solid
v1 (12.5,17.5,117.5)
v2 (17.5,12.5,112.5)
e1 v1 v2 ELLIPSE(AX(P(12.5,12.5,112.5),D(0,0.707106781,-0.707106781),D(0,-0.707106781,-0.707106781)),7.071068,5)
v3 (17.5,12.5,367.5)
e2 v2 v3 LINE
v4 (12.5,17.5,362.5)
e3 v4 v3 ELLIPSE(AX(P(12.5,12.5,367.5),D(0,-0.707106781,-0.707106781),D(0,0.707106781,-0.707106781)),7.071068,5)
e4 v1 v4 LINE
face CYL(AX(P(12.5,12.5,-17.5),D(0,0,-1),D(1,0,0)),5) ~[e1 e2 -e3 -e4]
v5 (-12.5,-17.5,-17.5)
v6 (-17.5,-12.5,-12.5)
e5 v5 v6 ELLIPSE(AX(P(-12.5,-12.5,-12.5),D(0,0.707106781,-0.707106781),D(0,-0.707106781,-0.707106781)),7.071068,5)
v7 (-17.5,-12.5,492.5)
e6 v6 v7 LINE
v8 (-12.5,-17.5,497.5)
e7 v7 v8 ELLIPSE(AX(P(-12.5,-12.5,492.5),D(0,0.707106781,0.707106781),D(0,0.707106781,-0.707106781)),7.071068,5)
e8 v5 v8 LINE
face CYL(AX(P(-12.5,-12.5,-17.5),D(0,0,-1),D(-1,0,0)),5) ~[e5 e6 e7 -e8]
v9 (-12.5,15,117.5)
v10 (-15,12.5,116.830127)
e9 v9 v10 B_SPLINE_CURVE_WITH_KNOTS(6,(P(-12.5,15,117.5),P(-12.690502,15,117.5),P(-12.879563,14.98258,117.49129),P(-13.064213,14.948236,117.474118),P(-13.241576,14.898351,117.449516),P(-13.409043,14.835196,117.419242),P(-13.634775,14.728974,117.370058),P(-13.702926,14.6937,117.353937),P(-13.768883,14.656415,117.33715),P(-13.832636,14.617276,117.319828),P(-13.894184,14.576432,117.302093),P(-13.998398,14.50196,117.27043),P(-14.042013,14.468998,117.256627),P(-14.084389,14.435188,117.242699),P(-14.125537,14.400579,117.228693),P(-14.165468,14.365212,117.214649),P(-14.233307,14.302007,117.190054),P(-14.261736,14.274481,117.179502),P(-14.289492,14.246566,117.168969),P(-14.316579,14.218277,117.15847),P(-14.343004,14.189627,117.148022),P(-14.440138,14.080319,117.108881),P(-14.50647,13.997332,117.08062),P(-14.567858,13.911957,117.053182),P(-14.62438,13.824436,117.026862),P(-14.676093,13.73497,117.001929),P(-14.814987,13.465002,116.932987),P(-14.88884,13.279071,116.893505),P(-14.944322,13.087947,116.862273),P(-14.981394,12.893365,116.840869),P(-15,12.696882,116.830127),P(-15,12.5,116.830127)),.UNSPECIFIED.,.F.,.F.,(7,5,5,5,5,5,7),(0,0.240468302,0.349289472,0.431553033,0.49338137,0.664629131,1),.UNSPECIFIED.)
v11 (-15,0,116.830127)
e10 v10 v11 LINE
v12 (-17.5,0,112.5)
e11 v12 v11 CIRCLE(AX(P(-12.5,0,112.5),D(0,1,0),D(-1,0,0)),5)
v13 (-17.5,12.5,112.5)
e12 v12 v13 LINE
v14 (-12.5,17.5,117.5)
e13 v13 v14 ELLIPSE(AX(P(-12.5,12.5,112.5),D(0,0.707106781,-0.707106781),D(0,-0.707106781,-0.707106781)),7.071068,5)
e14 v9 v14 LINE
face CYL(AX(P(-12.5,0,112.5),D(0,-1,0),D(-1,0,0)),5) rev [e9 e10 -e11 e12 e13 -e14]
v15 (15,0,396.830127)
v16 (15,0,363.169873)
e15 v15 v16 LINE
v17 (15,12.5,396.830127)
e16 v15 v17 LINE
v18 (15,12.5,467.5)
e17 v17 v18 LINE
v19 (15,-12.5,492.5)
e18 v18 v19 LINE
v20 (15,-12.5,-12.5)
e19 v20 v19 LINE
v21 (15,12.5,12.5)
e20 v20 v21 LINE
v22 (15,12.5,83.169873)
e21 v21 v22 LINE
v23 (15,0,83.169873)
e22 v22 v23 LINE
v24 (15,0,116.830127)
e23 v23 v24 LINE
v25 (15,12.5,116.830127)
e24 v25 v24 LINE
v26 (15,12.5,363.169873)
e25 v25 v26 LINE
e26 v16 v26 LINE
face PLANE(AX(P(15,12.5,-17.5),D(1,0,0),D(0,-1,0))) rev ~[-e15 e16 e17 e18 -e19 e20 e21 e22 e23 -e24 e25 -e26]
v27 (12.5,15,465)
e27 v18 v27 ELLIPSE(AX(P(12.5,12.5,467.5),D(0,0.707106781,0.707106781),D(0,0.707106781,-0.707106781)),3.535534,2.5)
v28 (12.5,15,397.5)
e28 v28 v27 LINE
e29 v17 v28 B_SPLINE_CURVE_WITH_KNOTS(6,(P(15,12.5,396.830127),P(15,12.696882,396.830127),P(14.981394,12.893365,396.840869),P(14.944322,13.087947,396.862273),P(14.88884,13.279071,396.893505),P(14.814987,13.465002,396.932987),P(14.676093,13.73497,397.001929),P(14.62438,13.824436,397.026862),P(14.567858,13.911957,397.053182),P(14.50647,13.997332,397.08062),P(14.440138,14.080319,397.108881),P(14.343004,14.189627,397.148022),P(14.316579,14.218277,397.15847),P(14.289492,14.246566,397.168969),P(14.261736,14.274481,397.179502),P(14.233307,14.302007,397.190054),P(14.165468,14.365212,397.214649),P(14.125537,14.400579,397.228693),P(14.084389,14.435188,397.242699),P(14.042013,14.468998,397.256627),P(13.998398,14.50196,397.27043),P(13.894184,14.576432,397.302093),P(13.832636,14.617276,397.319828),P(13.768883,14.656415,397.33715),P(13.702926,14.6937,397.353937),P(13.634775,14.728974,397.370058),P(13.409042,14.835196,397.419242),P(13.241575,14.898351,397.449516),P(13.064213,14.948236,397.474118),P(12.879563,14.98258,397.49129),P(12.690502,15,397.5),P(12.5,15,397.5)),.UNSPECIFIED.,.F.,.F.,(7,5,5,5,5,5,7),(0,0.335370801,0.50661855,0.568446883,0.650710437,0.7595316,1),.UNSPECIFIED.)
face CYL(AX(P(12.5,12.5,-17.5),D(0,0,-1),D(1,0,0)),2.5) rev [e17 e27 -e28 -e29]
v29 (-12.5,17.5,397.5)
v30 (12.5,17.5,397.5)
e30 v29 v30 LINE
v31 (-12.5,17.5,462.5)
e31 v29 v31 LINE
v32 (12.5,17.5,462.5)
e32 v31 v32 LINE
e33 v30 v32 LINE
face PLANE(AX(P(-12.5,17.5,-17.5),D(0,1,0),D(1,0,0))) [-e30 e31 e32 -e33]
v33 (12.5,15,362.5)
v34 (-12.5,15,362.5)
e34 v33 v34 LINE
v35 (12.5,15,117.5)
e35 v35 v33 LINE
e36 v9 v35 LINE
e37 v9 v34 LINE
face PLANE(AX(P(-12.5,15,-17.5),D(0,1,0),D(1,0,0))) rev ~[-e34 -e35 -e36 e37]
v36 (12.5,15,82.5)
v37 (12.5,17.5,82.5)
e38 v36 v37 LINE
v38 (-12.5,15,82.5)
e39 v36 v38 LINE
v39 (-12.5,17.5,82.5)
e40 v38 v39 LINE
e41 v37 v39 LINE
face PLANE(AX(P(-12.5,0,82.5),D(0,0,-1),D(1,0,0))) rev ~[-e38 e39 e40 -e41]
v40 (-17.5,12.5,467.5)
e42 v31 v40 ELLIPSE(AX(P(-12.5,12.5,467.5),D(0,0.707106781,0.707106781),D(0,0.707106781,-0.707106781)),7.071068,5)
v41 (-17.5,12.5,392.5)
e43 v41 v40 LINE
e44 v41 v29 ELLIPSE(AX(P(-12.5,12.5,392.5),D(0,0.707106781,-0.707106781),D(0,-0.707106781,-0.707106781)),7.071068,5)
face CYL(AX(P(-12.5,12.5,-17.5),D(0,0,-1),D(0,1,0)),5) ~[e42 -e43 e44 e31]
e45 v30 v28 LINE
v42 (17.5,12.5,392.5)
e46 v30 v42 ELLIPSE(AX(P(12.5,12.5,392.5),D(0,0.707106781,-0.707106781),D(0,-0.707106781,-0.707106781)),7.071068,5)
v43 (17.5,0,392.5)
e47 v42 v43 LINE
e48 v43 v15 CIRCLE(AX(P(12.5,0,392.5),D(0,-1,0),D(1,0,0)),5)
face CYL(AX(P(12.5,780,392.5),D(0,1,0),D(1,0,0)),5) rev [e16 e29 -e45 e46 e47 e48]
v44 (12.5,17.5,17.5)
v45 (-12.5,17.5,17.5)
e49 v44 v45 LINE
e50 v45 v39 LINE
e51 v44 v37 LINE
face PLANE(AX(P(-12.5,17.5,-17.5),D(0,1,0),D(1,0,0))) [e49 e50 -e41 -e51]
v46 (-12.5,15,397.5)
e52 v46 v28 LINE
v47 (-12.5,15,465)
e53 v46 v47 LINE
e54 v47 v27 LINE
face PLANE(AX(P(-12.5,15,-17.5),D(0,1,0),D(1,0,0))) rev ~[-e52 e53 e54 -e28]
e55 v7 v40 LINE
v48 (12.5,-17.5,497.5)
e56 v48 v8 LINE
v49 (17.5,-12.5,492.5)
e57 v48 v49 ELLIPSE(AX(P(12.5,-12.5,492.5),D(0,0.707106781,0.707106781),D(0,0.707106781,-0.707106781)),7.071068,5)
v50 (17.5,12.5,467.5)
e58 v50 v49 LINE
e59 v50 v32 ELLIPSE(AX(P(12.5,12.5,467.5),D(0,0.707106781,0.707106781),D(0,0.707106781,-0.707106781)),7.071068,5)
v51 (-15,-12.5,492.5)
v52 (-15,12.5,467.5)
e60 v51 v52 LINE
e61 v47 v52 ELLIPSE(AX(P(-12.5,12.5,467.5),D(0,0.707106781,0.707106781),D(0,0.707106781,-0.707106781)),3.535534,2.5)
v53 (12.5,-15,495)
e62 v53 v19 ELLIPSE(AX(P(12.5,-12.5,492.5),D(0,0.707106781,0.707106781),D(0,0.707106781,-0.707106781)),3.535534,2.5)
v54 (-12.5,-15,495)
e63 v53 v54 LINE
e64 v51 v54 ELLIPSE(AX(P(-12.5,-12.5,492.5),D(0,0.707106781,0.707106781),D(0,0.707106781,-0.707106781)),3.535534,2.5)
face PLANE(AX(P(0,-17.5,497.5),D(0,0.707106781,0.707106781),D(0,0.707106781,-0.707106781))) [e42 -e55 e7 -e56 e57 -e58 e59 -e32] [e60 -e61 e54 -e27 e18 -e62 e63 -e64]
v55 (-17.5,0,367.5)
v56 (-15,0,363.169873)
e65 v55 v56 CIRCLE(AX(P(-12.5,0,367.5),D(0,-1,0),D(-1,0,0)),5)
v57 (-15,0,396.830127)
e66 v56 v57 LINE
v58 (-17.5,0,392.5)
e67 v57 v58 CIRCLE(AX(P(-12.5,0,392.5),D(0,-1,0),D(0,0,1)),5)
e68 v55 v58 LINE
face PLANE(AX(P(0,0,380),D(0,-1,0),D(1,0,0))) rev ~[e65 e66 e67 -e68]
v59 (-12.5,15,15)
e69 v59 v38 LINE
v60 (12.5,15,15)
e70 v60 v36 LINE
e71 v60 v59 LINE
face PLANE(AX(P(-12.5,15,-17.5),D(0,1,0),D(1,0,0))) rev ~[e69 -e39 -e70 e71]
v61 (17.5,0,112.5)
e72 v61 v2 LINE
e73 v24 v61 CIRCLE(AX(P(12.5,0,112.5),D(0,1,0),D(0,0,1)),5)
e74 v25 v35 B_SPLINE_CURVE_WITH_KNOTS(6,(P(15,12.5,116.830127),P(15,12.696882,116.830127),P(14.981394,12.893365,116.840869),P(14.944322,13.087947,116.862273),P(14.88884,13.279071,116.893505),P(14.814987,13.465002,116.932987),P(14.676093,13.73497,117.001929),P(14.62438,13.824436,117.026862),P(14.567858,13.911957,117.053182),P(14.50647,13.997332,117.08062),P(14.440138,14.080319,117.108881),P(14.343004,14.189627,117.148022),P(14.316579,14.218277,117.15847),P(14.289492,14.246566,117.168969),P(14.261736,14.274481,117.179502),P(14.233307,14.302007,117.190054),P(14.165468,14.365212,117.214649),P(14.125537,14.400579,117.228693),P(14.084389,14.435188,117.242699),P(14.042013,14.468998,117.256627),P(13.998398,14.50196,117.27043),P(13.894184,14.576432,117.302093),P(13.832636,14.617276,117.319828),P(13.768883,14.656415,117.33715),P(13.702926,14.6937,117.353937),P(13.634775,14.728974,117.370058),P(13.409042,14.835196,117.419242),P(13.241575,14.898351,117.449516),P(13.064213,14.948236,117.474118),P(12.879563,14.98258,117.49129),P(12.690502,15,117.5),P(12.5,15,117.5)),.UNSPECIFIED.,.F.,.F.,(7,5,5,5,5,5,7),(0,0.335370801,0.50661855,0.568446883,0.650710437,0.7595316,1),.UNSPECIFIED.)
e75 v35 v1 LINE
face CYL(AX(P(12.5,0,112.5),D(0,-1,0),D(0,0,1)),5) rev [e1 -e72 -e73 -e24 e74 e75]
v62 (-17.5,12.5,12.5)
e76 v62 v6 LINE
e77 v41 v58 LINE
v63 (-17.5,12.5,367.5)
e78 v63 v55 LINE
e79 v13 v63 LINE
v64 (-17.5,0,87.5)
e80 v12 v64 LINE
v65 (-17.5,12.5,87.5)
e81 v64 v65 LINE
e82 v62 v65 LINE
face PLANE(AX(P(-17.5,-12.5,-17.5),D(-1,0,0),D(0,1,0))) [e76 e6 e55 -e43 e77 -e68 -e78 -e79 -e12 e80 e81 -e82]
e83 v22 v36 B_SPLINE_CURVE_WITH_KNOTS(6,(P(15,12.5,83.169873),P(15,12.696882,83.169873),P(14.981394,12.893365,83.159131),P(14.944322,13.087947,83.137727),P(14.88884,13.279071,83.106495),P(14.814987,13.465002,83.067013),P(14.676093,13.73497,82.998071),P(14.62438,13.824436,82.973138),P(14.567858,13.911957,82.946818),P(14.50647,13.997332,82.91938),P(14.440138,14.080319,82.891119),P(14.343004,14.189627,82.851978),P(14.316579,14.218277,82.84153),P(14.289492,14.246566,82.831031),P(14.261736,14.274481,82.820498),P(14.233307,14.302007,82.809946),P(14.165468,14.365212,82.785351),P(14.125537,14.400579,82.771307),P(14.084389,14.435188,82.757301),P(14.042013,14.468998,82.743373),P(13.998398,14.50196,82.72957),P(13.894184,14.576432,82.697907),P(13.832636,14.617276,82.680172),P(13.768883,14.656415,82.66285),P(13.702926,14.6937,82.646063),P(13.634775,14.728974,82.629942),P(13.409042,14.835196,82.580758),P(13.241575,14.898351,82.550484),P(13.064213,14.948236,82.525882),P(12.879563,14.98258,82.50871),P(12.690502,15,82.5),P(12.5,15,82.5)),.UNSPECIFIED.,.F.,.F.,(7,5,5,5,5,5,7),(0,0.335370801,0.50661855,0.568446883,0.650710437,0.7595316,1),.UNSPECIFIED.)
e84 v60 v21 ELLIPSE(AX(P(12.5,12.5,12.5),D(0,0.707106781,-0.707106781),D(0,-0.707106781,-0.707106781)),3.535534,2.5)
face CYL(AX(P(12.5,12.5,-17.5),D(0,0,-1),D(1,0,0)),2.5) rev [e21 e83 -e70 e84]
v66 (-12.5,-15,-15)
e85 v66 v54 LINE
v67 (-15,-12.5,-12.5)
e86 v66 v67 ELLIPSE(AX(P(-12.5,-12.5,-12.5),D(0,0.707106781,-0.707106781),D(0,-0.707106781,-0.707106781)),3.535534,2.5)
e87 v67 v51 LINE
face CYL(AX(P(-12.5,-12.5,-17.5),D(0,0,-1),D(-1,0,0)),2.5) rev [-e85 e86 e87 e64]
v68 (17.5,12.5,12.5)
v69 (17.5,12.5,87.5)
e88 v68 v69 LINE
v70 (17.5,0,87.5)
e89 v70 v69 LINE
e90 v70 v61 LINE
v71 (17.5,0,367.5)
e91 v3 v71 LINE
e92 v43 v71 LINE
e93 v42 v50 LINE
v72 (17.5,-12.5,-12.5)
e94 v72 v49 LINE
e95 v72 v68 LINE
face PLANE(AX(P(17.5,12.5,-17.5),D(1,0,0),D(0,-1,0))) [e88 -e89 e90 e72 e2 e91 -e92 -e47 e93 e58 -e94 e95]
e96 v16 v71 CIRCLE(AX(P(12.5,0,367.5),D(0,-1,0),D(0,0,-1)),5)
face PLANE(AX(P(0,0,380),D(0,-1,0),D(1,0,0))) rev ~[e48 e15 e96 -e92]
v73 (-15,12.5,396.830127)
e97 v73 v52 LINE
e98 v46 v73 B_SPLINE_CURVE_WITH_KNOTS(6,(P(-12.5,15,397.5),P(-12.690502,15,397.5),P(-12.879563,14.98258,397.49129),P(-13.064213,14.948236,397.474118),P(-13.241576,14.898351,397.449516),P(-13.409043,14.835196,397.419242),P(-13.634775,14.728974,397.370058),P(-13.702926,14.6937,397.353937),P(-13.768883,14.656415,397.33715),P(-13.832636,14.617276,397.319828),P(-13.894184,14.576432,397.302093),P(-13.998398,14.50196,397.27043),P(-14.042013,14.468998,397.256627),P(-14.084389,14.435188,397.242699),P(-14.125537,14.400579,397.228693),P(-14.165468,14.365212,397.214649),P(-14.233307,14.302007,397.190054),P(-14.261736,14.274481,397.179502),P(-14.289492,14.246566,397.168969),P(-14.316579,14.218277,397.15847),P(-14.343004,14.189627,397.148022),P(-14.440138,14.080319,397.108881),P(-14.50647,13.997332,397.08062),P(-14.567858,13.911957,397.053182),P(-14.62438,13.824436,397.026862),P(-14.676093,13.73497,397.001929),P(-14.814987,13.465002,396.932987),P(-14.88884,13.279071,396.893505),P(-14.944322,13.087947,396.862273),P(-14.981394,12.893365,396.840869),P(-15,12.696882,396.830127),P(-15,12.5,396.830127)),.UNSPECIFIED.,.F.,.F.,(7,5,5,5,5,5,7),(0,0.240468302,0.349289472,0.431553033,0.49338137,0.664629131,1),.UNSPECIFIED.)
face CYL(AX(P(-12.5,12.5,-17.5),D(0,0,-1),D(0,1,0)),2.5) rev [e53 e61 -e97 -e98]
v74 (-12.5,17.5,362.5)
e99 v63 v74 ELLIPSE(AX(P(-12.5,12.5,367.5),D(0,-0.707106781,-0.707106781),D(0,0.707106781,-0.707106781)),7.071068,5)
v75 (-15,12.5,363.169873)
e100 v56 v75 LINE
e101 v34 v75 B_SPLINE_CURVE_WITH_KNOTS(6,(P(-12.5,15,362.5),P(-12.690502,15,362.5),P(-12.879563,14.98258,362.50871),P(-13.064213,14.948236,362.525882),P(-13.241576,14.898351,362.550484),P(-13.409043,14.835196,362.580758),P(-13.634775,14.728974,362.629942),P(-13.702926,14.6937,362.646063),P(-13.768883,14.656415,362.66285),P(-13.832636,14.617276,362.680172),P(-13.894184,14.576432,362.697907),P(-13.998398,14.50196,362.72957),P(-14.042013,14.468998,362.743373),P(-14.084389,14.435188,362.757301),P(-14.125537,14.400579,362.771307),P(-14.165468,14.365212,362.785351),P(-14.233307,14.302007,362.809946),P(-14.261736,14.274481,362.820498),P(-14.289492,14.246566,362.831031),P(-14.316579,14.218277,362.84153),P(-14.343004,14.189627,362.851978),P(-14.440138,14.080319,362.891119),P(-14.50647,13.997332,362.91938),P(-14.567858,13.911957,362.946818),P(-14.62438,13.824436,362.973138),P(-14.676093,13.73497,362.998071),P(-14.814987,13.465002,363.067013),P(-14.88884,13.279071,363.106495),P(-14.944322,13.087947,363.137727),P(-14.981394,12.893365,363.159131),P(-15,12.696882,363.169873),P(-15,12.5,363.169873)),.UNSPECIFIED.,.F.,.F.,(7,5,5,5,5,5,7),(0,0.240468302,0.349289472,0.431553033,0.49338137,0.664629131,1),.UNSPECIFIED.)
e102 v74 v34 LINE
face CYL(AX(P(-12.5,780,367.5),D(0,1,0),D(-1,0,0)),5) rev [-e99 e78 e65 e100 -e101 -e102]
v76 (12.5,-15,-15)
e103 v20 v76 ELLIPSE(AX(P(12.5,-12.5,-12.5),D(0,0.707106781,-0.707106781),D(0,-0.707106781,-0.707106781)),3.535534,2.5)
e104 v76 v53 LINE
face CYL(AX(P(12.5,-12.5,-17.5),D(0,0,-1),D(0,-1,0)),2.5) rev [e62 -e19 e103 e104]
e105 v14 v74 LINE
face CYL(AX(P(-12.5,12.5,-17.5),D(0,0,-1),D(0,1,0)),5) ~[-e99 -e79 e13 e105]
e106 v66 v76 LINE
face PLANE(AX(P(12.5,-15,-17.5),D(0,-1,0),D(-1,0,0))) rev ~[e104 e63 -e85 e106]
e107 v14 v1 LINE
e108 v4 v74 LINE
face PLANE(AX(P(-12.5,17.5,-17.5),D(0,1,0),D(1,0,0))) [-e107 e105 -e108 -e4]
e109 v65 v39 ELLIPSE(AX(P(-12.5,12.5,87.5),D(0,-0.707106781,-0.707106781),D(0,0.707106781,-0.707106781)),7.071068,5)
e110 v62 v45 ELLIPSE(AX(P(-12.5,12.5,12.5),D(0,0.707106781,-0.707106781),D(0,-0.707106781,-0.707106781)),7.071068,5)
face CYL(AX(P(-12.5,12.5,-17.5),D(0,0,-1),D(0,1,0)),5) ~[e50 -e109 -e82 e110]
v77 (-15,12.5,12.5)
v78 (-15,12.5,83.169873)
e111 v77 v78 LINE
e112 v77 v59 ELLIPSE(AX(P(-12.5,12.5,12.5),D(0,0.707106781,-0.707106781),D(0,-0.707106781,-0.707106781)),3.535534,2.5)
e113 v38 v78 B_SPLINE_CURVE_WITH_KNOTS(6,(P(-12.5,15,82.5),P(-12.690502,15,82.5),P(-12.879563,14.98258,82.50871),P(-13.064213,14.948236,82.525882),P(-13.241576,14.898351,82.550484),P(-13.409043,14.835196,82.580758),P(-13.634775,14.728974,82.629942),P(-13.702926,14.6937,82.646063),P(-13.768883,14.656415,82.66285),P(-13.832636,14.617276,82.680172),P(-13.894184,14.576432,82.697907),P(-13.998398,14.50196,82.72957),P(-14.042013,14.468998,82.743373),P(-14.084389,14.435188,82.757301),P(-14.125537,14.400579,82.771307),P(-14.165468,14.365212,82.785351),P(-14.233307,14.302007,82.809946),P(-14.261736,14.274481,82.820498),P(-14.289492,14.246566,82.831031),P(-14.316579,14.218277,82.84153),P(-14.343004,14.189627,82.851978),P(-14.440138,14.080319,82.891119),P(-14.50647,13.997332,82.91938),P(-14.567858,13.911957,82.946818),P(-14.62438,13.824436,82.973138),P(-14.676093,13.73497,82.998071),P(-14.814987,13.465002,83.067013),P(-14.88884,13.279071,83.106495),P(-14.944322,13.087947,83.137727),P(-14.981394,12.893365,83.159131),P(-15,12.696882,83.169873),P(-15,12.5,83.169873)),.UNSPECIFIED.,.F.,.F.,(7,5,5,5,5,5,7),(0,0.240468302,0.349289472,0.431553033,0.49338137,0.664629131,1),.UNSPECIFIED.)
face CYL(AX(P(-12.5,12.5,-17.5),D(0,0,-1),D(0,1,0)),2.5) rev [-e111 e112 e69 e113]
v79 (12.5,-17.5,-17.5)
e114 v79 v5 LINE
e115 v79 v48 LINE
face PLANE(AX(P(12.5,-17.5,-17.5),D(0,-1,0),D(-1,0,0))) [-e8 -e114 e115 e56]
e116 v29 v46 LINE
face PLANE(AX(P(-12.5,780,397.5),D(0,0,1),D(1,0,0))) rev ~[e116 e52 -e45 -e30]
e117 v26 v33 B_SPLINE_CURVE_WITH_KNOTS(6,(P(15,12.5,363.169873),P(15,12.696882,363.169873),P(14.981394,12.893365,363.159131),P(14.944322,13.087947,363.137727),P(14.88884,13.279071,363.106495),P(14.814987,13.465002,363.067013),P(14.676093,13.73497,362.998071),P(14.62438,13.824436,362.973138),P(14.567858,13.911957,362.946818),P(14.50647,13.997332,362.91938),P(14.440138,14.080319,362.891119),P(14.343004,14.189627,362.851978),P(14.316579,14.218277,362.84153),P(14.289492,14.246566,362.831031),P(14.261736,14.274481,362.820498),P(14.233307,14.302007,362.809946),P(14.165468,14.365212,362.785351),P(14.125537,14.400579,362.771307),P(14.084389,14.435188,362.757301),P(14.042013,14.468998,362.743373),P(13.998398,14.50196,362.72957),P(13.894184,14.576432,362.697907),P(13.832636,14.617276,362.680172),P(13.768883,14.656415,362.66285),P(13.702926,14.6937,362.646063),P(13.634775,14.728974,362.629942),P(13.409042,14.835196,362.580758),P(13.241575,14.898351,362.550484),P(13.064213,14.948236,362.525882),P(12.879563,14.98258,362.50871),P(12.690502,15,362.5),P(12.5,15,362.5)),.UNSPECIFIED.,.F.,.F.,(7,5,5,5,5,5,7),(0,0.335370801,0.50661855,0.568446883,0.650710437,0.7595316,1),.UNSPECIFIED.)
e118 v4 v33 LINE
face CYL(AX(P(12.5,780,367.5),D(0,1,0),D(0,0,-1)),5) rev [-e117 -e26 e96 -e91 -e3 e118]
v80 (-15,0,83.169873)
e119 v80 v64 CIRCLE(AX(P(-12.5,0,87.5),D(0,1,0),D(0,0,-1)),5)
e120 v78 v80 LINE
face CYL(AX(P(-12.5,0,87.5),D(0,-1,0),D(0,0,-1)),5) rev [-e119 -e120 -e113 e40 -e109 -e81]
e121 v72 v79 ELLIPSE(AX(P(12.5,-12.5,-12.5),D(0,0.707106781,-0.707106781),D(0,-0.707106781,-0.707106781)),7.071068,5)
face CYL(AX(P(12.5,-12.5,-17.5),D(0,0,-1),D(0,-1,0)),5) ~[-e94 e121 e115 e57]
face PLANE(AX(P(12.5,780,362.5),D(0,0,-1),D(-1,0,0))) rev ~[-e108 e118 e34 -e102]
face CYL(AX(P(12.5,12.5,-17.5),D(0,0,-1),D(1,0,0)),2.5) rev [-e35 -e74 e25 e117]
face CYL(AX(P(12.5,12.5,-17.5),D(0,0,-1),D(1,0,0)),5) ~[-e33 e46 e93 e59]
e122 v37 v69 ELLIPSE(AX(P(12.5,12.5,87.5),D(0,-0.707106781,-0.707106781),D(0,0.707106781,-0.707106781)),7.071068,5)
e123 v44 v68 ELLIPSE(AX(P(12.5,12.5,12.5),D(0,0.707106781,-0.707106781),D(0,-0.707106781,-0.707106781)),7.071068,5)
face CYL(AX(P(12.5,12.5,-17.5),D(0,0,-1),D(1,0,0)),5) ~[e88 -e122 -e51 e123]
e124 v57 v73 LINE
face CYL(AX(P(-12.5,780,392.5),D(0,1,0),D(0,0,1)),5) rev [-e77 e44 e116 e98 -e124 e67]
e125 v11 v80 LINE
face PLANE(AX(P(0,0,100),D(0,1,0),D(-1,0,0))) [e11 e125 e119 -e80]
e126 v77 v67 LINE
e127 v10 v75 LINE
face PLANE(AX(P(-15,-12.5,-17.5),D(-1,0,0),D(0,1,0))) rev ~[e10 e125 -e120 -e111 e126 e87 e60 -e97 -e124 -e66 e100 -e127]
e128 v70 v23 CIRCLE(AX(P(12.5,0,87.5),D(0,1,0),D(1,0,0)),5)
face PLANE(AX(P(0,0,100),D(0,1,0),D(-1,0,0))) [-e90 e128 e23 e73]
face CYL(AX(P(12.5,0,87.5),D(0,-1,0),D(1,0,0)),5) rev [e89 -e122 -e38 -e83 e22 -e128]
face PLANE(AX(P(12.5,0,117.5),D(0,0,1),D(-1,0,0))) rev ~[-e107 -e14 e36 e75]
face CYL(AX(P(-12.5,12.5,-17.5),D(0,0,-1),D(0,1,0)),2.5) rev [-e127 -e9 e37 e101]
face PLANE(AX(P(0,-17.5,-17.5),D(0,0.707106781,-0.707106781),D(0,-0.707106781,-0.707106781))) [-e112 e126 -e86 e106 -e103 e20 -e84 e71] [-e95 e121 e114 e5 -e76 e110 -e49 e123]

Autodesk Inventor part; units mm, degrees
ref_plane "Start plane" through (0, 0, -17.5) normal (0, 0, 1) x (1, 0, 0)
ref_plane "End plane" through (0, 0, 497.5) normal (0, 0, 1) x (1, 0, 0)
sketch "Sketch" plane through (0, 0, 0) normal (0, 0, 1) x (1, 0, 0)
  line L0 (-17.5, -12.5) -> (-17.5, 12.5)
  line L1 (-12.5, 17.5) -> (12.5, 17.5)
  line L2 (17.5, 12.5) -> (17.5, -12.5)
  line L3 (12.5, -17.5) -> (-12.5, -17.5)
  arc A0 (-17.5, -12.5) -> (-12.5, -17.5) centre (-12.5, -12.5) ccw
  arc A1 (-12.5, 17.5) -> (-17.5, 12.5) centre (-12.5, 12.5) ccw
  arc A2 (17.5, 12.5) -> (12.5, 17.5) centre (12.5, 12.5) ccw
  arc A3 (12.5, -17.5) -> (17.5, -12.5) centre (12.5, -12.5) ccw
  arc A4 (-12.5, 15) -> (-15, 12.5) centre (-12.5, 12.5) ccw
  line L4 (-12.5, 15) -> (12.5, 15)
  arc A5 (15, 12.5) -> (12.5, 15) centre (12.5, 12.5) ccw
  line L5 (15, 12.5) -> (15, -12.5)
  arc A6 (12.5, -15) -> (15, -12.5) centre (12.5, -12.5) ccw
  line L6 (12.5, -15) -> (-12.5, -15)
  arc A7 (-15, -12.5) -> (-12.5, -15) centre (-12.5, -12.5) ccw
  line L7 (-15, -12.5) -> (-15, 12.5)
  line L8 (0, 25.9497) -> (0, -25.9497) construction
  line L9 (-25.9497, 0) -> (25.9497, 0) construction
  dimension "d7" = 5
  dimension "d10" = 35
  dimension "d11" = 35
  dimension "d12" = 2.5
  dimension "d15" = 17.5
  dimension "d16" = 17.5
extrude "Body" add sketch "Sketch" along normal up to surface (515 mm away) from surface at -17.5
sketch "Sketch3" plane through (0, 0, 0) normal (0, 0, 1) x (1, 0, 0)
  line L0 (0, 0) -> (10, 0)
ref_plane "Work Plane3" through (0, 0, 0) normal (0, -1, 0) x (1, 0, 0)
sketch "Sketch4" plane through (0, 0, 0) normal (0, -1, 0) x (1, 0, 0)
  line L0 (-2, -17.5) -> (12, -17.5)
  line L1 (-2, 497.5) -> (12, 497.5)
  dimension "d18" = 515
ref_plane "Work Plane4" through (107.5, 0, -17.5) normal (0, 0, -1) x (-1, 0, 0)
split "Split1" plane through (107.5, 0, -17.5) removes the side toward (0, 0, -1)
ref_plane "Work Plane5" through (0, -17.5, 497.5) normal (0, 0.7071, 0.7071) x (1, 0, 0)
split "Split2" plane through (0, -17.5, 497.5) removes the side toward (0, 0.7071, 0.7071)
ref_plane "Work Plane7" through (0, 780, 380) normal (0, -1, 0) x (1, 0, 0)
ref_plane "Work Plane8" through (0, 0, 380) normal (0, -1, 0) x (1, 0, 0)
ref_plane "Work Plane9" through (0, 390, 380) normal (0, -1, 0) x (1, 0, 0)
ref_plane "Work Plane10" through (0, 0, 100) normal (0, 1, 0) x (-1, 0, 0)
ref_plane "Work Plane11" through (0, 780, 100) normal (0, 1, 0) x (-1, 0, 0)
ref_plane "Work Plane12" through (0, 390, 100) normal (0, 1, 0) x (-1, 0, 0)
ref_plane "Work Plane13" through (0, -17.5, -17.5) normal (0, 0.7071, -0.7071) x (1, 0, 0)
split "Split4" plane through (0, -17.5, -17.5) removes the side toward (0, 0.7071, -0.7071)
sketch "Sketch5" plane through (0, 390, 380) normal (0, -1, 0) x (1, 0, 0)
  arc A0 (-17.5, -12.5) -> (-12.5, -17.5) centre (-12.5, -12.5) ccw
  line L0 (-17.5, -12.5) -> (-17.5, 12.5)
  arc A1 (-12.5, 17.5) -> (-17.5, 12.5) centre (-12.5, 12.5) ccw
  line L1 (-12.5, 17.5) -> (12.5, 17.5)
  arc A2 (17.5, 12.5) -> (12.5, 17.5) centre (12.5, 12.5) ccw
  line L2 (17.5, 12.5) -> (17.5, -12.5)
  arc A3 (12.5, -17.5) -> (17.5, -12.5) centre (12.5, -12.5) ccw
  line L3 (12.5, -17.5) -> (-12.5, -17.5)
  arc A4 (-12.5, 15) -> (-15, 12.5) centre (-12.5, 12.5) ccw
  line L4 (-12.5, 15) -> (12.5, 15)
  arc A5 (15, 12.5) -> (12.5, 15) centre (12.5, 12.5) ccw
  line L5 (15, 12.5) -> (15, -12.5)
  arc A6 (12.5, -15) -> (15, -12.5) centre (12.5, -12.5) ccw
  line L6 (12.5, -15) -> (-12.5, -15)
  arc A7 (-15, -12.5) -> (-12.5, -15) centre (-12.5, -12.5) ccw
  line L7 (-15, -12.5) -> (-15, 12.5)
extrude "Extrusion2" cut sketch "Sketch5" along normal up to surface (780 mm away) from surface at -390 contours L0 A1 L1 A2 L2 A3 L3 A0 | L4 A5 L5 A6 L6 A7 L7 A4
sketch "Sketch6" plane through (0, 390, 100) normal (0, 1, 0) x (-1, 0, 0)
  arc A0 (-17.5, -12.5) -> (-12.5, -17.5) centre (-12.5, -12.5) ccw
  line L0 (-17.5, -12.5) -> (-17.5, 12.5)
  arc A1 (-12.5, 17.5) -> (-17.5, 12.5) centre (-12.5, 12.5) ccw
  line L1 (-12.5, 17.5) -> (12.5, 17.5)
  arc A2 (17.5, 12.5) -> (12.5, 17.5) centre (12.5, 12.5) ccw
  line L2 (17.5, 12.5) -> (17.5, -12.5)
  arc A3 (12.5, -17.5) -> (17.5, -12.5) centre (12.5, -12.5) ccw
  line L3 (12.5, -17.5) -> (-12.5, -17.5)
  arc A4 (-12.5, 15) -> (-15, 12.5) centre (-12.5, 12.5) ccw
  line L4 (-12.5, 15) -> (12.5, 15)
  arc A5 (15, 12.5) -> (12.5, 15) centre (12.5, 12.5) ccw
  line L5 (15, 12.5) -> (15, -12.5)
  arc A6 (12.5, -15) -> (15, -12.5) centre (12.5, -12.5) ccw
  line L6 (12.5, -15) -> (-12.5, -15)
  arc A7 (-15, -12.5) -> (-12.5, -15) centre (-12.5, -12.5) ccw
  line L7 (-15, -12.5) -> (-15, 12.5)
extrude "Extrusion3" cut sketch "Sketch6" along normal up to surface (780 mm away) from surface at -390 contours L0 A1 L1 A2 L2 A3 L3 A0 | L4 A5 L5 A6 L6 A7 L7 A4
equation "\"d7\" = G_IR"
equation "\"d10\" = G_H"
equation "\"d11\" = G_W"
equation "\"d12\" = G_T"
equation "\"d15\" = 0.5 * d10"
equation "\"d16\" = 0.5 * d11"
equation "\"d3\" = G_L"
equation "\"G_W\" = 35"
equation "\"G_H\" = 35"
equation "\"G_T\" = 2.5"
equation "\"G_IR\" = 5"
equation "\"G_L\" = d18"
equation "\"G_OFFSET_START\" = 17.5"
equation "\"G_OFFSET_END\" = 17.5"
equation "\"d13\" = -G_OFFSET_START"
equation "\"d14\" = G_OFFSET_END + B_L"
equation "\"B_L\" = 480"
properties part number "AS 1163 - C350L0 35x35x2.5 SHS - 515" material "Steel, Mild"
